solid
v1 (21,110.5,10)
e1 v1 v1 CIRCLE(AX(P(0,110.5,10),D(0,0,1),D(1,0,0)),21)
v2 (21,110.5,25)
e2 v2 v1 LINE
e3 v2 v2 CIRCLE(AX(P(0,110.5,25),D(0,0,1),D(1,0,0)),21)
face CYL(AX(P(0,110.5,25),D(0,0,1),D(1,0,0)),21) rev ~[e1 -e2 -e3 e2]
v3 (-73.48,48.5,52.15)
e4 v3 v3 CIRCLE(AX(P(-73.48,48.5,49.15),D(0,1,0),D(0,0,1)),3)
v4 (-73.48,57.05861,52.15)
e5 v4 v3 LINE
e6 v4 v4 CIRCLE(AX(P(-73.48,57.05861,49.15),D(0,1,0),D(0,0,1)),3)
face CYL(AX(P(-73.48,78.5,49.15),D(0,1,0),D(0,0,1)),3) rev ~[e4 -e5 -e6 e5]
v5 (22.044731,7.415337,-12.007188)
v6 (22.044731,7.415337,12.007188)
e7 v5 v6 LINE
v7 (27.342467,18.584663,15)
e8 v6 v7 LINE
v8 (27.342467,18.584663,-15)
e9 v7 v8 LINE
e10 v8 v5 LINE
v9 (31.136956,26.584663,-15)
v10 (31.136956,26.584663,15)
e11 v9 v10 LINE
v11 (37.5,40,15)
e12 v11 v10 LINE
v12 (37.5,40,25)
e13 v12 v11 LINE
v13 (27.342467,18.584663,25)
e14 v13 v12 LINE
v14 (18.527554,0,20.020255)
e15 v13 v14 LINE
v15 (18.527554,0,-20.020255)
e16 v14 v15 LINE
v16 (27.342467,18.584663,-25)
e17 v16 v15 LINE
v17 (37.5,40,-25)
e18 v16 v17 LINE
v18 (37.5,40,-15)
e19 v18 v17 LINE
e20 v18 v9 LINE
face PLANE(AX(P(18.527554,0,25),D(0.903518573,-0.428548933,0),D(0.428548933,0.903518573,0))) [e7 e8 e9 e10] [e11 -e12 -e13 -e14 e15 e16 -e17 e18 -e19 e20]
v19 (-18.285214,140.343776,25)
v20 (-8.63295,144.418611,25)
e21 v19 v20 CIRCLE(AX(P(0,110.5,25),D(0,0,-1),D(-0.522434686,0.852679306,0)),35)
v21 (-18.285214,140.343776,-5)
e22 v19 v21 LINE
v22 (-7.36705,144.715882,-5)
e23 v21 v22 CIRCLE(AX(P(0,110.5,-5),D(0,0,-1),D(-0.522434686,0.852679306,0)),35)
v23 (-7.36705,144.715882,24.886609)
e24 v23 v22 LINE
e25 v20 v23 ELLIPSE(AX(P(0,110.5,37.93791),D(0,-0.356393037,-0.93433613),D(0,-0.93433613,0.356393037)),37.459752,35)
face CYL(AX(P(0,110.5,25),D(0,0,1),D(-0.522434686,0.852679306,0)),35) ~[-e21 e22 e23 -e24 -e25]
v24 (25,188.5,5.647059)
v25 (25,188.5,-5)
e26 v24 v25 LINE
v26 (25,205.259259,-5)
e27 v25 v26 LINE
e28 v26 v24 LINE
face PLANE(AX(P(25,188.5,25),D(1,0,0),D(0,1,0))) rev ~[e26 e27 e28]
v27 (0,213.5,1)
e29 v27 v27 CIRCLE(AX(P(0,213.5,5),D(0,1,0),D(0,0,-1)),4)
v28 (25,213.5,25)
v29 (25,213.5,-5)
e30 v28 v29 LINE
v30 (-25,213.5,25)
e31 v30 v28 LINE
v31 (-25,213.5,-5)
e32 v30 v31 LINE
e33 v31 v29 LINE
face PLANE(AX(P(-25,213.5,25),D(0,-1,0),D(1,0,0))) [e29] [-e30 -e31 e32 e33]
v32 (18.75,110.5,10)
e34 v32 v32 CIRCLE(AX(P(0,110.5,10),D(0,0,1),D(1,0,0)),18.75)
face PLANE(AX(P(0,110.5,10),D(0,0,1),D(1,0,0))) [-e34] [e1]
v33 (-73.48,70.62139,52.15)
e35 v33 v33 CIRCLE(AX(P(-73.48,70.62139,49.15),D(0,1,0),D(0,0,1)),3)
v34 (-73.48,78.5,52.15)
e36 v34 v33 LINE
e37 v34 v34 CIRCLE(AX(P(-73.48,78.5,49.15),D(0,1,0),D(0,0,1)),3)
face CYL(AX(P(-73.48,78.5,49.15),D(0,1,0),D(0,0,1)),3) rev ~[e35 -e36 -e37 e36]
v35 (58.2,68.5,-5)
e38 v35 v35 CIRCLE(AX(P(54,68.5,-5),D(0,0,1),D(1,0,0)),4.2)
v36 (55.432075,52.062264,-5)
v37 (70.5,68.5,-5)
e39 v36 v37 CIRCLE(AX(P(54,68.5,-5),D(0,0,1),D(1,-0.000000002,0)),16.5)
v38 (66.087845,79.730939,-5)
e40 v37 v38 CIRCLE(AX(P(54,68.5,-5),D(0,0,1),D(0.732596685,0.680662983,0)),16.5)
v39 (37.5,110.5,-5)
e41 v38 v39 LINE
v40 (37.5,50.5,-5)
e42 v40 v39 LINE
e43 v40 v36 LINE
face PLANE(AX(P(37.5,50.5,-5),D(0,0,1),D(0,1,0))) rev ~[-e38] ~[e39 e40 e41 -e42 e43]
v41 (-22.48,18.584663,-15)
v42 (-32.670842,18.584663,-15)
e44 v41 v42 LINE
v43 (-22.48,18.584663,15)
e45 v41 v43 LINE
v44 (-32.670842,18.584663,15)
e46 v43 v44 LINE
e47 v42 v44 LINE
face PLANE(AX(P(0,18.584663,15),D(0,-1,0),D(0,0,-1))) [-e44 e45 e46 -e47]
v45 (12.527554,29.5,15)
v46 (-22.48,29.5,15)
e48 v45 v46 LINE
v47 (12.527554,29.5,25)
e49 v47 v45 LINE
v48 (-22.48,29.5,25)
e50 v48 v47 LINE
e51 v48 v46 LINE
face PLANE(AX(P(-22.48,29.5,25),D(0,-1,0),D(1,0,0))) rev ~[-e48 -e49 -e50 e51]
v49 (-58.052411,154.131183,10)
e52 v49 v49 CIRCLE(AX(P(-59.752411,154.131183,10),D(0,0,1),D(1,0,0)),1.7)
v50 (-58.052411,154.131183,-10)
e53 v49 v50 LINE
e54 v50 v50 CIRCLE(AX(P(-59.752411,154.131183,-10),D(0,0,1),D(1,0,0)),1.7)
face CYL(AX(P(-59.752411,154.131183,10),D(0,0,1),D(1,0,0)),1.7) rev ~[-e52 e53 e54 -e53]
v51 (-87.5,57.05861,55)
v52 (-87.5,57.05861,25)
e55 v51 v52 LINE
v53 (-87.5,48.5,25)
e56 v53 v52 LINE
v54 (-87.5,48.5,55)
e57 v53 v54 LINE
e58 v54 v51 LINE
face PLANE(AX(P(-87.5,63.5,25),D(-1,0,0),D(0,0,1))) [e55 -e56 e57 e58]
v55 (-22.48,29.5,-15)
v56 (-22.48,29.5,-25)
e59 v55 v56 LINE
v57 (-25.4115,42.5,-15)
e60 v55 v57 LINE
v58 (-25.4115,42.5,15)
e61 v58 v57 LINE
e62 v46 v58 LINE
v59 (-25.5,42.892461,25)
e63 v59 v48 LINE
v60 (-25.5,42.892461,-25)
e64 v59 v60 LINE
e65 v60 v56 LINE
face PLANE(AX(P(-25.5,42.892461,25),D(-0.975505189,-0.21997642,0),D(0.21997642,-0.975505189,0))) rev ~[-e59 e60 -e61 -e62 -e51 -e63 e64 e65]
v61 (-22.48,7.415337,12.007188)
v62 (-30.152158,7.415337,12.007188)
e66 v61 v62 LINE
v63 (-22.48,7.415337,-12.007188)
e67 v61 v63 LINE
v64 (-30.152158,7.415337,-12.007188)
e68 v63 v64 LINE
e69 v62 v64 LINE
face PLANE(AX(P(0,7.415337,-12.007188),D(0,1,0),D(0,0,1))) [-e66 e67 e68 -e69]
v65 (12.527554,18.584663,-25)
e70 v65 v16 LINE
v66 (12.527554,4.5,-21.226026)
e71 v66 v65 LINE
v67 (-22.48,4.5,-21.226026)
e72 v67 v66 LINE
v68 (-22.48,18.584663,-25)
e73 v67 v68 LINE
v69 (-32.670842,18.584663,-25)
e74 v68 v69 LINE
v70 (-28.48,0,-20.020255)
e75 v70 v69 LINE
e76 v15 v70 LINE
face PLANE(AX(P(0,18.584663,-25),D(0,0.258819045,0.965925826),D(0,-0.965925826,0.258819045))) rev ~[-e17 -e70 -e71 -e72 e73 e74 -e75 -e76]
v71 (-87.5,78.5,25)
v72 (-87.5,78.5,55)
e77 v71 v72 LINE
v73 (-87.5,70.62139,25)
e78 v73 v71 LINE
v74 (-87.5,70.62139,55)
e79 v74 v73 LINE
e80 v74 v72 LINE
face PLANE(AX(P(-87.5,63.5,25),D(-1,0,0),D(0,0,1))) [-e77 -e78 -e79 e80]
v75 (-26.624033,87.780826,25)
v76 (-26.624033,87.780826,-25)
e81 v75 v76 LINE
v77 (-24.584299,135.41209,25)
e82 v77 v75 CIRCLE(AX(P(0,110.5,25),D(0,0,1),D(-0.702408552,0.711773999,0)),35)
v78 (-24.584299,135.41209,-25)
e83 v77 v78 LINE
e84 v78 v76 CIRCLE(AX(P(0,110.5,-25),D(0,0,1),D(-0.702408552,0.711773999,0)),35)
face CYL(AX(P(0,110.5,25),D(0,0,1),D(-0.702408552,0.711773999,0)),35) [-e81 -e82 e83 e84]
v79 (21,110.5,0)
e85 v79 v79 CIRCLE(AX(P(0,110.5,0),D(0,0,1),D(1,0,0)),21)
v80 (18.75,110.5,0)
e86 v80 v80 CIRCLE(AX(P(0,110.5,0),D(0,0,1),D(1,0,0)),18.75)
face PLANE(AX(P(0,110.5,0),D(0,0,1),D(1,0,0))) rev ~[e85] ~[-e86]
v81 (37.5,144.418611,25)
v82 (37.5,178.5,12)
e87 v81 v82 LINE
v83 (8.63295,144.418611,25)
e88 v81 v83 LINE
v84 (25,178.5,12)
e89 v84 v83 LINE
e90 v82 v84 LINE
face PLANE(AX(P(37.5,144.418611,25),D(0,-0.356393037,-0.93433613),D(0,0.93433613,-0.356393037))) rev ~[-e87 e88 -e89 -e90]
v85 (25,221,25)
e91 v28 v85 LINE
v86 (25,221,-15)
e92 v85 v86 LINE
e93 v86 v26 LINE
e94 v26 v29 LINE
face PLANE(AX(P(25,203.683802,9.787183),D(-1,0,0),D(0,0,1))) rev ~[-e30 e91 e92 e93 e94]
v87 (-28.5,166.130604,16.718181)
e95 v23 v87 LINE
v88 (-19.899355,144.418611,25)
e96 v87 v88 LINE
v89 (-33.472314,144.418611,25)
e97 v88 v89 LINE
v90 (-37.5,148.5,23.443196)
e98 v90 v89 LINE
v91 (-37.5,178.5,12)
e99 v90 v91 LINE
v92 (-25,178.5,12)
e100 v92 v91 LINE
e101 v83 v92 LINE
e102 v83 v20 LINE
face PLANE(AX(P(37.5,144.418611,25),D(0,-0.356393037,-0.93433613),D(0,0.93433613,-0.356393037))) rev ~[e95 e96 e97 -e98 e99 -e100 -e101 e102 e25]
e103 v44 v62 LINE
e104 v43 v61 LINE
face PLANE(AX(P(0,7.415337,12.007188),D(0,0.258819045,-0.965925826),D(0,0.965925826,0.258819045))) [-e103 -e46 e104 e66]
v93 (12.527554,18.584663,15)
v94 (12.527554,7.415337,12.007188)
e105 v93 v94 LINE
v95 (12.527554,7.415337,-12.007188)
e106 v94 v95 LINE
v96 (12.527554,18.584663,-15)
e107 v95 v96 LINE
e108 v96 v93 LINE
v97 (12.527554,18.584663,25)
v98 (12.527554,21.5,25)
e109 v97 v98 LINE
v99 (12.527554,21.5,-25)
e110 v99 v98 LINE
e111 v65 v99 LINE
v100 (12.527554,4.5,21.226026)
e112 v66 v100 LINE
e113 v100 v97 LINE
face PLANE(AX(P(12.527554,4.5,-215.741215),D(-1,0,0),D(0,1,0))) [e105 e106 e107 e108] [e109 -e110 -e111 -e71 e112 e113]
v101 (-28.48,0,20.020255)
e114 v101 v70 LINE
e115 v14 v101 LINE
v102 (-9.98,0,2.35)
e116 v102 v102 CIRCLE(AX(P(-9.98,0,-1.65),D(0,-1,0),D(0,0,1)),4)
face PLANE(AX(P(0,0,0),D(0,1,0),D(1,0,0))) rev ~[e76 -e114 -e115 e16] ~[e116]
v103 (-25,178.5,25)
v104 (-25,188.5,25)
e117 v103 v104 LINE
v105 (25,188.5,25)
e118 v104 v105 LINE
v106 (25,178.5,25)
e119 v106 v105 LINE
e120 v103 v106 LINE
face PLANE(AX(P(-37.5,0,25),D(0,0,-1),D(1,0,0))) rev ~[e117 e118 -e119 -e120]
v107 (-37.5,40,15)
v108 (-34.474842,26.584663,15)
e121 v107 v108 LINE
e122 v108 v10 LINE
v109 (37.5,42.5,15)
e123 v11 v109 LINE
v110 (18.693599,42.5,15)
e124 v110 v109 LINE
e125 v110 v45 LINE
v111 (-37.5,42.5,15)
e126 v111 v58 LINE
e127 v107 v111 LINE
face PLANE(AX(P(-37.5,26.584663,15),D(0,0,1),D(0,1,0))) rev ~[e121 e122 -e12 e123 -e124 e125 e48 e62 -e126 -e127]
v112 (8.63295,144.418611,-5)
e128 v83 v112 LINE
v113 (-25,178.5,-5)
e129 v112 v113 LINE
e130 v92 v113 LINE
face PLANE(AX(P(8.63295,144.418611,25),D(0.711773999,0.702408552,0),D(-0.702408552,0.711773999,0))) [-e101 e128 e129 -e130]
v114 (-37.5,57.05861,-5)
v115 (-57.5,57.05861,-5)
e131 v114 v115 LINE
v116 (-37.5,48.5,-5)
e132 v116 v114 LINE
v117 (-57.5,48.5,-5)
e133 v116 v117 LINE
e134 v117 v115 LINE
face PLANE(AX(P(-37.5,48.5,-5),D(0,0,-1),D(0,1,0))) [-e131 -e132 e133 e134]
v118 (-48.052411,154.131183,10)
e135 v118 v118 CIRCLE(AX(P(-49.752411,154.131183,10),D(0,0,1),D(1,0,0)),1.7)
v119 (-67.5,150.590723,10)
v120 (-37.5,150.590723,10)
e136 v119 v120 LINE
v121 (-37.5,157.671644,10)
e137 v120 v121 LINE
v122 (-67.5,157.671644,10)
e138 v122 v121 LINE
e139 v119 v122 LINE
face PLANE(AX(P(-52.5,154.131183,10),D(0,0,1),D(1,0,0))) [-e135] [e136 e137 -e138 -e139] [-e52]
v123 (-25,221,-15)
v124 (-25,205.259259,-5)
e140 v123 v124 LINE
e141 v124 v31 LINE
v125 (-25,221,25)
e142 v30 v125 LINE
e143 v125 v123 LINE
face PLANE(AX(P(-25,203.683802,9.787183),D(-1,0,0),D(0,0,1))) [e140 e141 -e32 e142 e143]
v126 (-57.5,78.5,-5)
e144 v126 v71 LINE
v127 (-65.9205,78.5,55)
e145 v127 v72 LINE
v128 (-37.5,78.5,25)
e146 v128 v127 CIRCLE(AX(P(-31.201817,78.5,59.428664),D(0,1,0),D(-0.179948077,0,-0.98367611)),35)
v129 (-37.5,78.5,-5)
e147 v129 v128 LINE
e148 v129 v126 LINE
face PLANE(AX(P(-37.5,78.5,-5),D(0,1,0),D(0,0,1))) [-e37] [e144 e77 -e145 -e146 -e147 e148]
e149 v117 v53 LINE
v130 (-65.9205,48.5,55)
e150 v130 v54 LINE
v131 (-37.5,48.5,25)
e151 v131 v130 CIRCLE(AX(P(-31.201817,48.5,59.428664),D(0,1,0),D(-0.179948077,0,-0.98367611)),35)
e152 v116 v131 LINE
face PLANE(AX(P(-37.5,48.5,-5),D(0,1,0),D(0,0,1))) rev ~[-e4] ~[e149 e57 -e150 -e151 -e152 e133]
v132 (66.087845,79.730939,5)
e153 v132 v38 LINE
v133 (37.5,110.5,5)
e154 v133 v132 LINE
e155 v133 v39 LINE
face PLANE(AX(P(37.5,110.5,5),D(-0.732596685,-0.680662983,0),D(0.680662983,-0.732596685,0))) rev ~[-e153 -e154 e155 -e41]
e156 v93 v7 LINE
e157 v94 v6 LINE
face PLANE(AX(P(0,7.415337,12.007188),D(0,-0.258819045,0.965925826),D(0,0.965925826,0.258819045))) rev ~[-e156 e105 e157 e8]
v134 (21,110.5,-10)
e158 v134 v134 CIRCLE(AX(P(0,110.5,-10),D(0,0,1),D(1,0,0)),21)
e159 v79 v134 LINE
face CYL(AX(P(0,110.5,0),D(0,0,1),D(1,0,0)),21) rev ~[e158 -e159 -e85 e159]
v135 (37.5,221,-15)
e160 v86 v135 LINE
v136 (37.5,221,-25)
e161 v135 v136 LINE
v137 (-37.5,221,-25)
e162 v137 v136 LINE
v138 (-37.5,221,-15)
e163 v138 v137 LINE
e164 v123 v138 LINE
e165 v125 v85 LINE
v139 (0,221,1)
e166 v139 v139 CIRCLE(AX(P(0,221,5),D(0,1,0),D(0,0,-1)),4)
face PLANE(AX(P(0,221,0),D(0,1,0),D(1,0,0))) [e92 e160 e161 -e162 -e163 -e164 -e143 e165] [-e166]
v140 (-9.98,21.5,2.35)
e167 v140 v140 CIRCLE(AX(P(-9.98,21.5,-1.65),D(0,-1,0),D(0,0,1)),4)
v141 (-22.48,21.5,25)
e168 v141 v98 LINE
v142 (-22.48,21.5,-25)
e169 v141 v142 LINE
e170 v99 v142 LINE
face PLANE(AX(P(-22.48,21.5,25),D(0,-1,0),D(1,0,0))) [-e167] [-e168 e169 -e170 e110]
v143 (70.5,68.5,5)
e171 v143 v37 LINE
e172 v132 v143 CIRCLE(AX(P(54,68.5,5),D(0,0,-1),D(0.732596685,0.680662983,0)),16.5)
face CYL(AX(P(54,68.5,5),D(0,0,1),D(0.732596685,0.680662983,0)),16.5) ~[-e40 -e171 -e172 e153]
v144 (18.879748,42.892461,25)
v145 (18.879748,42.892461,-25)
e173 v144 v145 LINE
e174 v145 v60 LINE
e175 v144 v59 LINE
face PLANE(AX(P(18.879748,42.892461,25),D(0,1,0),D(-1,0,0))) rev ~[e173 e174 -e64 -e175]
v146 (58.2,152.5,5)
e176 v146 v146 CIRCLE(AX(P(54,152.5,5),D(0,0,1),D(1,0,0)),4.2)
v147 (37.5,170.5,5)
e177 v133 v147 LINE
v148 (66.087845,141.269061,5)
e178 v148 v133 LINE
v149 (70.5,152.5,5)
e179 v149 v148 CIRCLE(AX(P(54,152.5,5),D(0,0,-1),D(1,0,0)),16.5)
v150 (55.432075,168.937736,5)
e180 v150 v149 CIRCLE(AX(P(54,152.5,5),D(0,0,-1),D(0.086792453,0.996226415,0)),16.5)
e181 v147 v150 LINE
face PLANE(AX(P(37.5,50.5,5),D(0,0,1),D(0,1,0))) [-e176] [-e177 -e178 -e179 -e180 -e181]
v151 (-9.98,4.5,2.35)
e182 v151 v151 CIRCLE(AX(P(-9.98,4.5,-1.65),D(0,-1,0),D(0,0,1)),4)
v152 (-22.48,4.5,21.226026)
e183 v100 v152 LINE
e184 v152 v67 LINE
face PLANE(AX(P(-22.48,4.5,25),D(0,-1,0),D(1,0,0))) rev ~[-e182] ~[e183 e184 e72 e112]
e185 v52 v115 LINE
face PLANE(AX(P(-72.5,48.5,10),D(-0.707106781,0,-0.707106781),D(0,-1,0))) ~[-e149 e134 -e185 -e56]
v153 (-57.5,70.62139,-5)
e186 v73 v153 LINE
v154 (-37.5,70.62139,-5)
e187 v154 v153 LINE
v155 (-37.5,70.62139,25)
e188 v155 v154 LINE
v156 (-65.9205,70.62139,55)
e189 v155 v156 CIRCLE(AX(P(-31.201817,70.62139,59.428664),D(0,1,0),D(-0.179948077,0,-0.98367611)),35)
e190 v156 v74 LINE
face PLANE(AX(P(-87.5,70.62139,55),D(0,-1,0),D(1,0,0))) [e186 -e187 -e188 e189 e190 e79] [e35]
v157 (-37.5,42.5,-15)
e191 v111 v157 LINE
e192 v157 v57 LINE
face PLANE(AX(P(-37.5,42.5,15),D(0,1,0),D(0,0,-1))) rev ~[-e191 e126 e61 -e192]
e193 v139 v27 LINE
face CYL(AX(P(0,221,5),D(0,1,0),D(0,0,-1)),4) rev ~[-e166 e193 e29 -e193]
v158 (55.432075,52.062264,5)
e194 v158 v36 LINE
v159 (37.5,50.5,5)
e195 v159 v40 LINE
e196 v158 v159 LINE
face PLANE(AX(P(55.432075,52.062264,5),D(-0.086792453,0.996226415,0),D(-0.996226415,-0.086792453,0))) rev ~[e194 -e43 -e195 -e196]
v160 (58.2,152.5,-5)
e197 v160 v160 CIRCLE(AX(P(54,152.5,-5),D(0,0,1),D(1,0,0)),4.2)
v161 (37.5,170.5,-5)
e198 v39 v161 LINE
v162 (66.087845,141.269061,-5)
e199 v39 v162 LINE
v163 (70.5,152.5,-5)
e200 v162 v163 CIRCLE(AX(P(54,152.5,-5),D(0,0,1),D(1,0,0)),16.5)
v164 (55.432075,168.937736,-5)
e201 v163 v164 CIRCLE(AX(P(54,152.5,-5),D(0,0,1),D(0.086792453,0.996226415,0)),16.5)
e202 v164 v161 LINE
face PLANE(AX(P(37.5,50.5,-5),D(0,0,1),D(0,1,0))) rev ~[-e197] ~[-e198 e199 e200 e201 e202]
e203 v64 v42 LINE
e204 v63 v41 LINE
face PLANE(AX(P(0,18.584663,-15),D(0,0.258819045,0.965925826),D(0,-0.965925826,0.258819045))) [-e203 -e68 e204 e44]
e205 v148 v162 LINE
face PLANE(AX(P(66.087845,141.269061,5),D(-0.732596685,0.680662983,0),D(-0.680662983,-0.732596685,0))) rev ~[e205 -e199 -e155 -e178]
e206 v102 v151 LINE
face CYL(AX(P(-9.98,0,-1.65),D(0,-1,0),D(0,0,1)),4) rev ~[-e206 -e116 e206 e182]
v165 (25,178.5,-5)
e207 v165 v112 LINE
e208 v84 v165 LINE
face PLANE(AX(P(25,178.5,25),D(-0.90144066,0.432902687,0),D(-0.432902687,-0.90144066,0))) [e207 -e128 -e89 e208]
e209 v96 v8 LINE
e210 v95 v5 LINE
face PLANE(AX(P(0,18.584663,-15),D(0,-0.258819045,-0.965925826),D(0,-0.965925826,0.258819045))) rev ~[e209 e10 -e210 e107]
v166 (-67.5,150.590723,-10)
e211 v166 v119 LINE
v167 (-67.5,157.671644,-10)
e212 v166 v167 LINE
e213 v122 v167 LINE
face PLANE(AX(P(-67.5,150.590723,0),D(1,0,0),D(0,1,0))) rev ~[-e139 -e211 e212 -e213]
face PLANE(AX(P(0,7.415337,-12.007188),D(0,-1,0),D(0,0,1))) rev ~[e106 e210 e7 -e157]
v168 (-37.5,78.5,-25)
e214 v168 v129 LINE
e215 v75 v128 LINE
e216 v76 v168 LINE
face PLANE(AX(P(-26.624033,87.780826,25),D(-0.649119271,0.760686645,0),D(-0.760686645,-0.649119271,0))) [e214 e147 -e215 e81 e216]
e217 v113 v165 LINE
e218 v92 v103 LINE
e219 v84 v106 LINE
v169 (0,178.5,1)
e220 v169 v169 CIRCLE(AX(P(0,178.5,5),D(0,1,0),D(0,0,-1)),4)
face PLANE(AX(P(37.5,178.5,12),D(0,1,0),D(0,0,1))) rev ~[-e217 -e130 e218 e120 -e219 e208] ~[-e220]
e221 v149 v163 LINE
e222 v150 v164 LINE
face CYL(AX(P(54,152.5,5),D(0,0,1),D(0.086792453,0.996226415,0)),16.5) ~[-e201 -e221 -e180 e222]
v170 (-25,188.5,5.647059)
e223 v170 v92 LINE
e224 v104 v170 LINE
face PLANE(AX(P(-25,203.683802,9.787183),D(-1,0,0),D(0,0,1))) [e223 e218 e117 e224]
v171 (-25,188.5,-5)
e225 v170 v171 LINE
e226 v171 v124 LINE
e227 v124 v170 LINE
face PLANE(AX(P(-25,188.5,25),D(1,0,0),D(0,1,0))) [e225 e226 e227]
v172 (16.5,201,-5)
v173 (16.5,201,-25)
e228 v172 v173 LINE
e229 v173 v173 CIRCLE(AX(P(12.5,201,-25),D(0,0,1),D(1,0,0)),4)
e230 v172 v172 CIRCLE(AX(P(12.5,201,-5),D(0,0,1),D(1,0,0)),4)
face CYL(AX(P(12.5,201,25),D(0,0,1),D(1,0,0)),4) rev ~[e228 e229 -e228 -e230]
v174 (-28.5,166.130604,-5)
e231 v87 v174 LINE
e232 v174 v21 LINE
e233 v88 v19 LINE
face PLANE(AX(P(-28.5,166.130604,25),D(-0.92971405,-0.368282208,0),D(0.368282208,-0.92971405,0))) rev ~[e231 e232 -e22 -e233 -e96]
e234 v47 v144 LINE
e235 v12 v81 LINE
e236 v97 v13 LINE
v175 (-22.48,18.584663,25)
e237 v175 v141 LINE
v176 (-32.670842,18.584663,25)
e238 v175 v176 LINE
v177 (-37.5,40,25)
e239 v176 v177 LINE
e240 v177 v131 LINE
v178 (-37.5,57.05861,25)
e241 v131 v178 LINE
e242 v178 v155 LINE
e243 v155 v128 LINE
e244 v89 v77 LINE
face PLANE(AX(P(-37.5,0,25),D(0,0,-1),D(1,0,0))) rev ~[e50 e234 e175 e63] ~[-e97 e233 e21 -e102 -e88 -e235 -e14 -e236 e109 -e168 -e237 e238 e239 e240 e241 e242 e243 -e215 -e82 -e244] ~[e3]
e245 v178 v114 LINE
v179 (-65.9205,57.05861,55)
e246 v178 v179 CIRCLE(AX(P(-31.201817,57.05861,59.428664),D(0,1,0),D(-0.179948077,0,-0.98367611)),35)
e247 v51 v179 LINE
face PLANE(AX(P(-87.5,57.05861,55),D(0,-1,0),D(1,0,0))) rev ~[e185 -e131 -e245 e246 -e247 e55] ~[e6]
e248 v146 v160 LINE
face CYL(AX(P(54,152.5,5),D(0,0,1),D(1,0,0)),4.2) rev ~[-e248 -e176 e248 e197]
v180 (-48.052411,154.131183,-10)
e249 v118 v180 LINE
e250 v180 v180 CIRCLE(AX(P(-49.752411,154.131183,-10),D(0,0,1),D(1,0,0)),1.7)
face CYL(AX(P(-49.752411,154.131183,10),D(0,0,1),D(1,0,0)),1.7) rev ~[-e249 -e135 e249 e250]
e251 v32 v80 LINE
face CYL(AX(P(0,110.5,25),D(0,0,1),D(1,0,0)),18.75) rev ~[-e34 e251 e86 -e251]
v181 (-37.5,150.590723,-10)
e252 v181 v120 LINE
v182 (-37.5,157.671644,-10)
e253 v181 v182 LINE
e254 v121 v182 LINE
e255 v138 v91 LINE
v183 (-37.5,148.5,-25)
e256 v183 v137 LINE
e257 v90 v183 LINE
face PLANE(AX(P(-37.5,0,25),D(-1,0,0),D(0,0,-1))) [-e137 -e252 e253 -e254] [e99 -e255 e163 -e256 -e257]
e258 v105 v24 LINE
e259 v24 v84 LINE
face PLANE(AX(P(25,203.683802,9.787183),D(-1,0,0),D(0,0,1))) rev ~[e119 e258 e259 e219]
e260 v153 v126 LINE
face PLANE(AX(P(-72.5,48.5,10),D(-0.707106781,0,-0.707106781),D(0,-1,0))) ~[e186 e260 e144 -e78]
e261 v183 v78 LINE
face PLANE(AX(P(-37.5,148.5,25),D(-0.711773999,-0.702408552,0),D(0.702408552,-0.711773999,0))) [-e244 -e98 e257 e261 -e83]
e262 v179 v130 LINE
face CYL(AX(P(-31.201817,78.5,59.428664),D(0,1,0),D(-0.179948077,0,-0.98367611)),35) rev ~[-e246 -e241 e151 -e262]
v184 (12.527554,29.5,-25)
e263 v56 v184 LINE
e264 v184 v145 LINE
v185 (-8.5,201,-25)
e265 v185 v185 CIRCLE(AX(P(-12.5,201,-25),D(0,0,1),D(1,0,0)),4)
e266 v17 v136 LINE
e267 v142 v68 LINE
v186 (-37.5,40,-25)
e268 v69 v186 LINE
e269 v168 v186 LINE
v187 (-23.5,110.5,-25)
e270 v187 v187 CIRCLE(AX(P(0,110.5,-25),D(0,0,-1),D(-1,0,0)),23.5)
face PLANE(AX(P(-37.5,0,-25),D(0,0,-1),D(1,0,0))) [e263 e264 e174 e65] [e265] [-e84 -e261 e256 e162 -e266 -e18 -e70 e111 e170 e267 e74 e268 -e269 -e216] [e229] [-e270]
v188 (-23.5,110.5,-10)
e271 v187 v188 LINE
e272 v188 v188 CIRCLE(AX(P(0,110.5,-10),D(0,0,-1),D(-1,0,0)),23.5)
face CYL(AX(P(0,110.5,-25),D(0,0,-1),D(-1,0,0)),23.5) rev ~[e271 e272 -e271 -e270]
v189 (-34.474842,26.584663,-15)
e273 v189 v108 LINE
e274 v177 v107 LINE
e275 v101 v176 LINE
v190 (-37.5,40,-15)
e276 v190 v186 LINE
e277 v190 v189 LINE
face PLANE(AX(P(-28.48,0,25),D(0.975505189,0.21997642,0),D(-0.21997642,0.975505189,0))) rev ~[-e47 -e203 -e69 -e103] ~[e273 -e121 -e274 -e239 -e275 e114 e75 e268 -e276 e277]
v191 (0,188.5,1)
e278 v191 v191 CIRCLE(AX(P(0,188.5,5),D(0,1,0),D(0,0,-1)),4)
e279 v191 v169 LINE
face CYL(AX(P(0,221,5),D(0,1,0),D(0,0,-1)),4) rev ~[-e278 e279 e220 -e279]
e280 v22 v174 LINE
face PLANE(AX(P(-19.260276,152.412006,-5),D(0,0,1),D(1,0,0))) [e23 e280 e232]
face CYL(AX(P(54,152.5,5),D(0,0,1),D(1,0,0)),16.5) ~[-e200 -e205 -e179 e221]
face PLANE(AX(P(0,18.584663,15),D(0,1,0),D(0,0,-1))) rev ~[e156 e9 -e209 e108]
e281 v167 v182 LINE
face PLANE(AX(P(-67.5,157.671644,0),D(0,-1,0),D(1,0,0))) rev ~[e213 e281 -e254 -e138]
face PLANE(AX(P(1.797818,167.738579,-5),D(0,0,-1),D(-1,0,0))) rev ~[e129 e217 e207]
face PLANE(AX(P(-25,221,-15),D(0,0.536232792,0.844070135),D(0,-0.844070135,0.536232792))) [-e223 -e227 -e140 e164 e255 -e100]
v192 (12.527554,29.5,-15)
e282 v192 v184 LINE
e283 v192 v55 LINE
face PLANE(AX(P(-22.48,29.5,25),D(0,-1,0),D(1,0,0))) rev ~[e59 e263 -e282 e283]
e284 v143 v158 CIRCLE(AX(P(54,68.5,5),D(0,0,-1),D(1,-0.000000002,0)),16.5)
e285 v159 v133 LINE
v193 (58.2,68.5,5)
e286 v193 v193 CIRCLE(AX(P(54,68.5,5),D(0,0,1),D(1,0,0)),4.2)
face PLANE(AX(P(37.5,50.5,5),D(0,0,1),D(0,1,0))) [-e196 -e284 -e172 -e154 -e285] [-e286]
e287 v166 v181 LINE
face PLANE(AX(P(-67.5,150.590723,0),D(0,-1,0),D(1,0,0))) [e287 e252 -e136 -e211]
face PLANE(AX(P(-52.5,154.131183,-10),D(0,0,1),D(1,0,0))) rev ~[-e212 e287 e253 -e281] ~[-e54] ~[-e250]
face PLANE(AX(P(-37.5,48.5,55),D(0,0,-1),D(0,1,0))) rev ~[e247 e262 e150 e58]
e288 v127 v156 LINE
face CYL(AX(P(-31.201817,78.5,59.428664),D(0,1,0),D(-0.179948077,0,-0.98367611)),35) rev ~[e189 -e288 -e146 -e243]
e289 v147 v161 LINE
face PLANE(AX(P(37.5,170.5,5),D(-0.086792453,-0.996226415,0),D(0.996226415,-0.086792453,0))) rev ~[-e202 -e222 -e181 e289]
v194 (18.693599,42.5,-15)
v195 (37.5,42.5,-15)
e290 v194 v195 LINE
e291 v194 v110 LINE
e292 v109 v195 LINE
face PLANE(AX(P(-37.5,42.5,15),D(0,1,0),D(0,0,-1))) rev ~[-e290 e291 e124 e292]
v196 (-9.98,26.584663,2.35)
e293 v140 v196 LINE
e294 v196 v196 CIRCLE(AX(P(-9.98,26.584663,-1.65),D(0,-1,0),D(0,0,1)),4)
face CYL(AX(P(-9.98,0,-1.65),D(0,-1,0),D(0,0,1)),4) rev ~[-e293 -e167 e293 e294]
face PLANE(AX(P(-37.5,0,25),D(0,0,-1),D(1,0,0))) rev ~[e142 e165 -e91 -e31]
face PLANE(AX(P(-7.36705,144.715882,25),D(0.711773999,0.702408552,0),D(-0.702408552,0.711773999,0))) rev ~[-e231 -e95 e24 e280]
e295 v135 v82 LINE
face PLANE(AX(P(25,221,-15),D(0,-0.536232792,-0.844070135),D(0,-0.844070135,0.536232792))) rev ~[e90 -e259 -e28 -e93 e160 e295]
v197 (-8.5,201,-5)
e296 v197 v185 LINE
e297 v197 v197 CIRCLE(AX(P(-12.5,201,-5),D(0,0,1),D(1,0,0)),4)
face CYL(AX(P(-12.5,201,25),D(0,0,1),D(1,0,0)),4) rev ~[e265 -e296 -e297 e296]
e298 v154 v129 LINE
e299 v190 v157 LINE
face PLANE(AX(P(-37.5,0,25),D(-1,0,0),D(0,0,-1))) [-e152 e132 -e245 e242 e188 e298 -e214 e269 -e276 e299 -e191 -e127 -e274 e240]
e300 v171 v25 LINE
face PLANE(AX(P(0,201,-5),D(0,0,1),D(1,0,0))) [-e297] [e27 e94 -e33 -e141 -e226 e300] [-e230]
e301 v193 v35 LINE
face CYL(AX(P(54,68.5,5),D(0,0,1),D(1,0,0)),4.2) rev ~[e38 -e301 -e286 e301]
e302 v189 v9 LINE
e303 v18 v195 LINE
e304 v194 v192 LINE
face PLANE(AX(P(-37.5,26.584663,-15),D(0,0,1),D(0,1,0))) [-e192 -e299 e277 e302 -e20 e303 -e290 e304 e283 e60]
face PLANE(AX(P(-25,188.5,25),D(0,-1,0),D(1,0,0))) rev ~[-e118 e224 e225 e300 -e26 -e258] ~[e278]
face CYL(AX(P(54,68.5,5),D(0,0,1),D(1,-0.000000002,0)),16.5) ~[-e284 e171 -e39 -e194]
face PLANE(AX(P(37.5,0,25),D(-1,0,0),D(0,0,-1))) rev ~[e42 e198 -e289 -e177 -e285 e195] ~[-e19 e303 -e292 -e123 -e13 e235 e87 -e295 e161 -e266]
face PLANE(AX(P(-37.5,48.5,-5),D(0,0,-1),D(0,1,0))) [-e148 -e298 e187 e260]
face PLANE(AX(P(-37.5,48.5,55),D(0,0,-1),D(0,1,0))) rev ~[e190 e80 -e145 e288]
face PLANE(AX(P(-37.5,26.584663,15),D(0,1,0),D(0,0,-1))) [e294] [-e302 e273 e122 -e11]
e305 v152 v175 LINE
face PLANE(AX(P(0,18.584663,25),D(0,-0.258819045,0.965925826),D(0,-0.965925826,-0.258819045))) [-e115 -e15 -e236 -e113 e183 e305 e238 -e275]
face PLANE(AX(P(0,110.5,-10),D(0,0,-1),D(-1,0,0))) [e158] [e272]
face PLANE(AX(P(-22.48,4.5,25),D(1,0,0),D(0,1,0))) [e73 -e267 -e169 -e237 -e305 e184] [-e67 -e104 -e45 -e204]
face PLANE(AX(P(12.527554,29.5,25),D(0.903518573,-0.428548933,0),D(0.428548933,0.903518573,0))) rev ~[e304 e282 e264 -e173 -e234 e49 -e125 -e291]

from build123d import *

# Parameters (mm, degrees)
SKETCH1_W                         = 75
SKETCH1_H                         = 50
BE_MAIN_UPRIGHT_BODY_DEPTH        = 221
SKETCH4_R                         = 18.75
CE_THROUGH_HOLE_DEPTH             = 230.667694724
SKETCH2_R                         = 21
CE_INNER_BEARING_DEPTH            = 15
SKETCH3_R                         = 23.5
CE_OUTER_BEARING_DEPTH            = 15
SKETCH7_W                         = 10
SKETCH7_H                         = 120
BE_CALIPER_MOUNT_DEPTH            = 33
SKETCH21_W                        = 30
SKETCH21_H                        = 7.080920813
BE_TEMP_SENSOR_MOUNT_V2_DEPTH     = 10
SKETCH9_W                         = 60
SKETCH9_H                         = 30
BE_TIE_ROD_MOUNT_DEPTH            = 50
SKETCH10_R                        = 4.2
CE_CALIPER_HOLES_DEPTH            = 243.893495178
SKETCH12_R                        = 4
CE_TOP_CLEVIS_HOLES_DEPTH         = 243.893495178
SKETCH33_W                        = 50
SKETCH33_H                        = 25
CE_SIMPLE_TOP_CLEVIS_SPACE_DEPTH  = 30
SKETCH34_R                        = 4
CUT_EXTRUDE12_DEPTH               = 42.5
SKETCH14_W                        = 25
SKETCH14_H                        = 12
CE_BOTTOM_CLEVIS_SPACE_DEPTH      = 243.893495178
SKETCH15_W                        = 25
SKETCH15_H                        = 5
CE_EXPAND_BOTTOM_CLEVIS_DEPTH     = 243.893495178
CE_WIDEN_BOTTOM_CLEVIS_DEPTH      = 240.74121548
CE_WIDEN_BOTTOM_CLEVIS_DEPTH_BACK = 240.74121548
SKETCH16_W                        = 10.007554032
SKETCH16_H                        = 17
CHAMFER1_SIZE                     = 30
SKETCH18_W                        = 14.04398123
SKETCH18_H                        = 13.562779604
CUT_EXTRUDE1_DEPTH                = 20
SKETCH19_R                        = 3
CUT_EXTRUDE2_DEPTH                = 177.032667423
SKETCH22_R                        = 1.7
CUT_EXTRUDE4_DEPTH                = 20
SKETCH31_R                        = 4
CUT_EXTRUDE9_DEPTH                = 31.5
SKETCH35_R                        = 21
CUT_EXTRUDE13_DEPTH               = 10
CUT_EXTRUDE14_REACH               = 244.893
CUT_EXTRUDE15_REACH               = 244.893
SKETCH38_W                        = 50
SKETCH38_H                        = 13.562779604
CUT_EXTRUDE16_DEPTH               = 251.793241536
CUT_EXTRUDE17_DEPTH               = 177.032667423
CUT_EXTRUDE18_DEPTH               = 30
CUT_EXTRUDE19_DEPTH               = 30
CUT_EXTRUDE20_REACH               = 244.893
CUT_EXTRUDE21_REACH               = 245.972
CUT_EXTRUDE21_DIRECTION_2_REACH   = 245.972
CUT_EXTRUDE22_REACH               = 245.972
CUT_EXTRUDE22_DIRECTION_2_REACH   = 245.972
CUT_EXTRUDE28_REACH               = 261.79
CUT_EXTRUDE31_START               = -25
CUT_EXTRUDE31_DEPTH               = 12.5
CUT_EXTRUDE32_START               = 25
CUT_EXTRUDE32_DEPTH               = 12.5
CUT_EXTRUDE33_START               = -37.5
SKETCH53_W                        = 30
SKETCH53_H                        = 15.915336889
CUT_EXTRUDE33_DEPTH               = 75
CUT_EXTRUDE34_REACH               = 244.893


with BuildPart() as part:
    # Sketch1 → BE - main upright body (new body)
    with BuildSketch(Plane(origin=(0, 0, 0), x_dir=(1, 0, 0), z_dir=(0, 1, 0))):
        Rectangle(SKETCH1_W, SKETCH1_H)
    extrude(amount=BE_MAIN_UPRIGHT_BODY_DEPTH)

    # Sketch4 → CE - Through hole (cut, through all)
    with BuildSketch(Plane.XY.offset(25)):
        with Locations((0, 110.5)):
            Circle(SKETCH4_R)
    extrude(amount=-CE_THROUGH_HOLE_DEPTH, mode=Mode.SUBTRACT)

    # Sketch2 → CE - Inner bearing (cut)
    with BuildSketch(Plane.XY.offset(25)):
        with Locations((0, 110.5)):
            Circle(SKETCH2_R)
    extrude(amount=-CE_INNER_BEARING_DEPTH, mode=Mode.SUBTRACT)

    # Sketch3 → CE - Outer bearing (cut)
    with BuildSketch(Plane(origin=(0, 0, -25), x_dir=(-1, 0, 0), z_dir=(0, 0, -1))):
        with Locations((0, 110.5)):
            Circle(SKETCH3_R)
    extrude(amount=-CE_OUTER_BEARING_DEPTH, mode=Mode.SUBTRACT)

    # Sketch7 → BE - caliper mount (add)
    with BuildSketch(Plane(origin=(37.5, 0, 0), x_dir=(0, 0, -1), z_dir=(1, 0, 0))):
        with Locations((0, 110.5)):
            Rectangle(SKETCH7_W, SKETCH7_H)
    extrude(amount=BE_CALIPER_MOUNT_DEPTH)

    # Sketch21 → BE - temp sensor mount v2 (add, symmetric)
    with BuildSketch(Plane.XY):
        with Locations((-52.5, 154.131183389)):
            Rectangle(SKETCH21_W, SKETCH21_H)
    extrude(amount=BE_TEMP_SENSOR_MOUNT_V2_DEPTH, both=True)

    # Sketch9 → BE - tie rod mount (add)
    with BuildSketch(Plane.ZY.offset(37.5)):
        with Locations((25, 63.5)):
            Rectangle(SKETCH9_W, SKETCH9_H)
    extrude(amount=BE_TIE_ROD_MOUNT_DEPTH)

    # Sketch10 → CE - caliper holes (cut, through all)
    with BuildSketch(Plane.XY.offset(5)):
        with Locations((54, 152.5)):
            Circle(SKETCH10_R)
        with Locations((54, 68.5)):
            Circle(SKETCH10_R)
    extrude(amount=-CE_CALIPER_HOLES_DEPTH, mode=Mode.SUBTRACT)

    # Sketch12 → CE - top clevis holes (cut, through all)
    with BuildSketch(Plane.XY.offset(25)):
        with Locations((-12.5, 201)):
            Circle(SKETCH12_R)
        with Locations((12.5, 201)):
            Circle(SKETCH12_R)
    extrude(amount=-CE_TOP_CLEVIS_HOLES_DEPTH, mode=Mode.SUBTRACT)

    # Sketch33 → CE - simple top clevis space (cut)
    with BuildSketch(Plane.XY.offset(25)):
        with Locations((0, 201)):
            Rectangle(SKETCH33_W, SKETCH33_H)
    extrude(amount=-CE_SIMPLE_TOP_CLEVIS_SPACE_DEPTH, mode=Mode.SUBTRACT)

    # Sketch34 → Cut-Extrude12 (cut)
    with BuildSketch(Plane(origin=(0, 221, 0), x_dir=(1, 0, 0), z_dir=(0, 1, 0))):
        with Locations(Location((0, -5, 0), (0, 0, 90))):
            Circle(SKETCH34_R)
    extrude(amount=-CUT_EXTRUDE12_DEPTH, mode=Mode.SUBTRACT)

    # Sketch14 → CE - bottom clevis space (cut, through all)
    with BuildSketch(Plane.XY.offset(25)):
        with Locations((-9.98, 10.5)):
            Rectangle(SKETCH14_W, SKETCH14_H)
    extrude(amount=-CE_BOTTOM_CLEVIS_SPACE_DEPTH, mode=Mode.SUBTRACT)

    # Sketch15 → CE - expand bottom clevis (cut, through all)
    with BuildSketch(Plane.XY.offset(25)):
        with Locations((-9.98, 19)):
            Rectangle(SKETCH15_W, SKETCH15_H)
    extrude(amount=-CE_EXPAND_BOTTOM_CLEVIS_DEPTH, mode=Mode.SUBTRACT)

    # Sketch16 → CE - widen bottom clevis (cut, two sides: drawn at the far end of the back side and taken through both)
    with BuildSketch(Plane(origin=(2.52, 4.5, 25), x_dir=(1, 0, 0), z_dir=(0, 0, 1)).offset(-CE_WIDEN_BOTTOM_CLEVIS_DEPTH_BACK)):
        with Locations((5.003777016, 8.5)):
            Rectangle(SKETCH16_W, SKETCH16_H)
    extrude(amount=CE_WIDEN_BOTTOM_CLEVIS_DEPTH + CE_WIDEN_BOTTOM_CLEVIS_DEPTH_BACK, mode=Mode.SUBTRACT)

    # Chamfer1
    chamfer1_edges = [part.edges().sort_by_distance(p)[0] for p in [
        (-87.5, 63.5, -5),
    ]]
    chamfer(chamfer1_edges, length=CHAMFER1_SIZE)

    # Sketch18 → Cut-Extrude1 (cut)
    with BuildSketch(Plane.XY.offset(55)):
        with Locations((-73.48, 63.84)):
            Rectangle(SKETCH18_W, SKETCH18_H)
    extrude(amount=-CUT_EXTRUDE1_DEPTH, mode=Mode.SUBTRACT)

    # Sketch19 → Cut-Extrude2 (cut, through all)
    with BuildSketch(Plane(origin=(0, 78.5, 0), x_dir=(1, 0, 0), z_dir=(0, 1, 0))):
        with Locations(Location((-73.48, -49.15, 0), (0, 0, 270))):
            Circle(SKETCH19_R)
    extrude(amount=-CUT_EXTRUDE2_DEPTH, mode=Mode.SUBTRACT)

    # Sketch22 → Cut-Extrude4 (cut)
    with BuildSketch(Plane.XY.offset(10)):
        with Locations((-59.752411208, 154.131183389)):
            Circle(SKETCH22_R)
        with Locations((-49.752411208, 154.131183389)):
            Circle(SKETCH22_R)
    extrude(amount=-CUT_EXTRUDE4_DEPTH, mode=Mode.SUBTRACT)

    # Sketch31 → Cut-Extrude9 (cut)
    with BuildSketch(Plane.XZ):
        with Locations(Location((-9.98, -1.65, 0), (0, 0, 90))):
            Circle(SKETCH31_R)
    extrude(amount=-CUT_EXTRUDE9_DEPTH, mode=Mode.SUBTRACT)

    # Sketch35 → Cut-Extrude13 (cut)
    with BuildSketch(Plane.XY):
        with Locations((0, 110.5)):
            Circle(SKETCH35_R)
    extrude(amount=-CUT_EXTRUDE13_DEPTH, mode=Mode.SUBTRACT)

    # Sketch36 → Cut-Extrude14 (cut, up to next)
    with BuildSketch(Plane.XY.offset(25), mode=Mode.PRIVATE) as cut_extrude14_sk1:
        with BuildLine():
            Line((-37.5, 78.5), (-37.5, 148.5))
            Line((-37.5, 148.5), (-24.584299319, 135.412089977))
            ThreePointArc((-24.584299319, 135.412089977), (-34.967951791, 111.997447011), (-26.624032587, 87.780825526))
            Line((-26.624032587, 87.780825526), (-37.5, 78.5))
        make_face()
    cut_extrude14_tool1 = extrude(cut_extrude14_sk1.sketch, amount=-CUT_EXTRUDE14_REACH, mode=Mode.PRIVATE) & part.part
    add(cut_extrude14_tool1.solids().sort_by_distance((-35.679116, 112.027901, 25))[0], mode=Mode.SUBTRACT)

    # Sketch37 → Cut-Extrude15 (cut, up to next)
    with BuildSketch(Plane.XY.offset(5), mode=Mode.PRIVATE) as cut_extrude15_sk1:
        with BuildLine():
            Line((70.5, 68.499999966), (70.5, 152.5))
            ThreePointArc((70.5, 152.5), (69.357399642, 146.466735855), (66.087845304, 141.269060773))
            Line((66.087845304, 141.269060773), (37.5, 110.5))
            Line((37.5, 110.5), (66.087845304, 79.730939227))
            ThreePointArc((66.087845304, 79.730939227), (69.357399648, 74.533264129), (70.5, 68.499999966))
        make_face()
    cut_extrude15_tool1 = extrude(cut_extrude15_sk1.sketch, amount=-CUT_EXTRUDE15_REACH, mode=Mode.PRIVATE) & part.part
    # Sketch37 → Cut-Extrude15 (cut, up to next)
    with BuildSketch(Plane.XY.offset(5), mode=Mode.PRIVATE) as cut_extrude15_sk2:
        with BuildLine():
            Line((37.5, 170.5), (55.432075472, 168.937735849))
            ThreePointArc((55.432075472, 168.937735849), (66.163043313, 163.649456371), (70.5, 152.5))
            Line((70.5, 152.5), (70.5, 170.5))
            Line((70.5, 170.5), (37.5, 170.5))
        make_face()
    cut_extrude15_tool2 = extrude(cut_extrude15_sk2.sketch, amount=-CUT_EXTRUDE15_REACH, mode=Mode.PRIVATE) & part.part
    # Sketch37 → Cut-Extrude15 (cut, up to next)
    with BuildSketch(Plane.XY.offset(5), mode=Mode.PRIVATE) as cut_extrude15_sk3:
        with BuildLine():
            Line((70.5, 50.5), (70.5, 68.499999966))
            ThreePointArc((70.5, 68.499999966), (66.163043302, 57.350543617), (55.432075472, 52.062264151))
            Line((55.432075472, 52.062264151), (37.5, 50.5))
            Line((37.5, 50.5), (70.5, 50.5))
        make_face()
    cut_extrude15_tool3 = extrude(cut_extrude15_sk3.sketch, amount=-CUT_EXTRUDE15_REACH, mode=Mode.PRIVATE) & part.part
    add(cut_extrude15_tool1.solids().sort_by_distance((59.586136, 110.5, 5))[0], mode=Mode.SUBTRACT)
    add(cut_extrude15_tool2.solids().sort_by_distance((63.343078, 167.056287, 5))[0], mode=Mode.SUBTRACT)
    add(cut_extrude15_tool3.solids().sort_by_distance((63.343078, 53.943713, 5))[0], mode=Mode.SUBTRACT)

    # Sketch38 → Cut-Extrude16 (cut, through all)
    with BuildSketch(Plane.XY.offset(55)):
        with Locations((-62.5, 63.84)):
            Rectangle(SKETCH38_W, SKETCH38_H)
    extrude(amount=-CUT_EXTRUDE16_DEPTH, mode=Mode.SUBTRACT)

    # Sketch40 → Cut-Extrude17 (cut, through all)
    with BuildSketch(Plane(origin=(0, 78.5, 0), x_dir=(1, 0, 0), z_dir=(0, 1, 0))):
        with BuildLine():
            Line((-37.5, -55), (-37.5, -25))
            ThreePointArc((-37.5, -25), (-56.610394877, -35.35784779), (-65.920500126, -55))
            Line((-65.920500126, -55), (-37.5, -55))
        make_face()
    extrude(amount=-CUT_EXTRUDE17_DEPTH, mode=Mode.SUBTRACT)

    # Sketch41 → Cut-Extrude18 (cut)
    with BuildSketch(Plane.XY.offset(25)):
        Polygon((-25, 178.5), (25, 178.5), (8.632949519, 144.418611154), align=None)
    extrude(amount=-CUT_EXTRUDE18_DEPTH, mode=Mode.SUBTRACT)

    # Sketch42 → Cut-Extrude19 (cut)
    with BuildSketch(Plane.XY.offset(25)):
        with BuildLine():
            Line((-28.5, 166.130603978), (-18.285214005, 140.343775713))
            ThreePointArc((-18.285214005, 140.343775713), (-13.011091277, 142.991714387), (-7.367050481, 144.715881798))
            Line((-7.367050481, 144.715881798), (-28.5, 166.130603978))
        make_face()
    extrude(amount=-CUT_EXTRUDE19_DEPTH, mode=Mode.SUBTRACT)

    # Sketch43 → Cut-Extrude20 (cut, up to next)
    with BuildSketch(Plane.XY.offset(25), mode=Mode.PRIVATE) as cut_extrude20_sk1:
        Polygon((18.527554032, 0), (37.5, 40), (37.5, 0), align=None)
    cut_extrude20_tool1 = extrude(cut_extrude20_sk1.sketch, amount=-CUT_EXTRUDE20_REACH, mode=Mode.PRIVATE) & part.part
    # Sketch43 → Cut-Extrude20 (cut, up to next)
    with BuildSketch(Plane.XY.offset(25), mode=Mode.PRIVATE) as cut_extrude20_sk2:
        Polygon((-28.48, 0), (-37.5, 40), (-37.5, 0), align=None)
    cut_extrude20_tool2 = extrude(cut_extrude20_sk2.sketch, amount=-CUT_EXTRUDE20_REACH, mode=Mode.PRIVATE) & part.part
    add(cut_extrude20_tool1.solids().sort_by_distance((31.175851, 13.333333, 25))[0], mode=Mode.SUBTRACT)
    add(cut_extrude20_tool2.solids().sort_by_distance((-34.493333, 13.333333, 25))[0], mode=Mode.SUBTRACT)

    # Sketch44 → Cut-Extrude21 (cut, up to next)
    with BuildSketch(Plane(origin=(0, 0, 0), x_dir=(0, 0, -1), z_dir=(1, 0, 0)), mode=Mode.PRIVATE) as cut_extrude21_sk1:
        Polygon((-15, 18.584663111), (15, 18.584663111), (12.007188059, 7.415336889), (-12.007188059, 7.415336889), align=None)
    cut_extrude21_tool1 = extrude(cut_extrude21_sk1.sketch, amount=-CUT_EXTRUDE21_REACH, mode=Mode.PRIVATE) & part.part
    add(cut_extrude21_tool1.solids().sort_by_distance((0, 13.206289, 0))[0], mode=Mode.SUBTRACT)

    # Sketch44 → Cut-Extrude21 direction 2 (cut, up to next)
    with BuildSketch(Plane(origin=(0, 0, 0), x_dir=(0, 0, -1), z_dir=(1, 0, 0)), mode=Mode.PRIVATE) as cut_extrude21_direction_2_sk1:
        Polygon((-15, 18.584663111), (15, 18.584663111), (12.007188059, 7.415336889), (-12.007188059, 7.415336889), align=None)
    cut_extrude21_direction_2_tool1 = extrude(cut_extrude21_direction_2_sk1.sketch, amount=CUT_EXTRUDE21_DIRECTION_2_REACH, mode=Mode.PRIVATE) & part.part
    add(cut_extrude21_direction_2_tool1.solids().sort_by_distance((0, 13.206289, 0))[0], mode=Mode.SUBTRACT)

    # Sketch45 → Cut-Extrude22 (cut, up to next)
    with BuildSketch(Plane(origin=(0, 0, 0), x_dir=(0, 0, -1), z_dir=(1, 0, 0)), mode=Mode.PRIVATE) as cut_extrude22_sk1:
        Polygon((-25, 18.584663111), (-20.020254528, 0), (-25, 0), align=None)
    cut_extrude22_tool1 = extrude(cut_extrude22_sk1.sketch, amount=-CUT_EXTRUDE22_REACH, mode=Mode.PRIVATE) & part.part
    # Sketch45 → Cut-Extrude22 (cut, up to next)
    with BuildSketch(Plane(origin=(0, 0, 0), x_dir=(0, 0, -1), z_dir=(1, 0, 0)), mode=Mode.PRIVATE) as cut_extrude22_sk2:
        Polygon((25, 0), (25, 18.584663111), (20.020254528, 0), align=None)
    cut_extrude22_tool2 = extrude(cut_extrude22_sk2.sketch, amount=-CUT_EXTRUDE22_REACH, mode=Mode.PRIVATE) & part.part
    add(cut_extrude22_tool1.solids().sort_by_distance((0, 6.194888, 23.340085))[0], mode=Mode.SUBTRACT)
    add(cut_extrude22_tool2.solids().sort_by_distance((0, 6.194888, -23.340085))[0], mode=Mode.SUBTRACT)

    # Sketch45 → Cut-Extrude22 direction 2 (cut, up to next)
    with BuildSketch(Plane(origin=(0, 0, 0), x_dir=(0, 0, -1), z_dir=(1, 0, 0)), mode=Mode.PRIVATE) as cut_extrude22_direction_2_sk1:
        Polygon((-25, 18.584663111), (-20.020254528, 0), (-25, 0), align=None)
    cut_extrude22_direction_2_tool1 = extrude(cut_extrude22_direction_2_sk1.sketch, amount=CUT_EXTRUDE22_DIRECTION_2_REACH, mode=Mode.PRIVATE) & part.part
    # Sketch45 → Cut-Extrude22 direction 2 (cut, up to next)
    with BuildSketch(Plane(origin=(0, 0, 0), x_dir=(0, 0, -1), z_dir=(1, 0, 0)), mode=Mode.PRIVATE) as cut_extrude22_direction_2_sk2:
        Polygon((25, 0), (25, 18.584663111), (20.020254528, 0), align=None)
    cut_extrude22_direction_2_tool2 = extrude(cut_extrude22_direction_2_sk2.sketch, amount=CUT_EXTRUDE22_DIRECTION_2_REACH, mode=Mode.PRIVATE) & part.part
    add(cut_extrude22_direction_2_tool1.solids().sort_by_distance((0, 6.194888, 23.340085))[0], mode=Mode.SUBTRACT)
    add(cut_extrude22_direction_2_tool2.solids().sort_by_distance((0, 6.194888, -23.340085))[0], mode=Mode.SUBTRACT)

    # Cut-Extrude28: up to this face of the body (flat: up to its plane)
    cut_extrude28_end = Plane(part.part.faces().sort_by_distance((-37.5, 185.994821508, 0))[0])
    # Sketch48 → Cut-Extrude28 (cut, up to the picked face)
    with BuildSketch(Plane(origin=(37.5, 0, 0), x_dir=(0, 0, -1), z_dir=(1, 0, 0)), mode=Mode.PRIVATE) as cut_extrude28_sk1:
        Polygon((-12, 178.5), (-25, 178.5), (-25, 144.418611154), align=None)
    cut_extrude28_tool1 = split(extrude(cut_extrude28_sk1.sketch, amount=-CUT_EXTRUDE28_REACH, mode=Mode.PRIVATE), bisect_by=cut_extrude28_end, keep=Keep.BOTH, mode=Mode.PRIVATE)
    add(cut_extrude28_tool1.solids().sort_by(Axis((37.5, 167.139537, 20.666667), (-1, 0, 0)))[0], mode=Mode.SUBTRACT)

    # Sketch51 → Cut-Extrude31 (cut)
    with BuildSketch(Plane(origin=(0, 0, 0), x_dir=(0, 0, -1), z_dir=(1, 0, 0)).offset(CUT_EXTRUDE31_START)):
        Polygon((-12, 178.5), (-25, 178.5), (-25, 221), (15, 221), align=None)
    extrude(amount=-CUT_EXTRUDE31_DEPTH, mode=Mode.SUBTRACT)

    # Sketch51<2> → Cut-Extrude32 (cut)
    with BuildSketch(Plane(origin=(0, 0, 0), x_dir=(0, 0, -1), z_dir=(1, 0, 0)).offset(CUT_EXTRUDE32_START)):
        Polygon((-12, 178.5), (-25, 178.5), (-25, 221), (15, 221), align=None)
    extrude(amount=CUT_EXTRUDE32_DEPTH, mode=Mode.SUBTRACT)

    # Sketch53 → Cut-Extrude33 (cut)
    with BuildSketch(Plane(origin=(0, 0, 0), x_dir=(0, 0, -1), z_dir=(1, 0, 0)).offset(CUT_EXTRUDE33_START)):
        with Locations((0, 34.542331555)):
            Rectangle(SKETCH53_W, SKETCH53_H)
    extrude(amount=CUT_EXTRUDE33_DEPTH, mode=Mode.SUBTRACT)

    # Sketch54 → Cut-Extrude34 (cut, up to next)
    with BuildSketch(Plane.XY.offset(25), mode=Mode.PRIVATE) as cut_extrude34_sk1:
        Polygon((-22.48, 29.5), (12.527554032, 29.5), (18.879747693, 42.892461197), (-25.5, 42.892461197), align=None)
    cut_extrude34_tool1 = extrude(cut_extrude34_sk1.sketch, amount=-CUT_EXTRUDE34_REACH, mode=Mode.PRIVATE) & part.part
    add(cut_extrude34_tool1.solids().sort_by_distance((-4.110392, 36.459742, 25))[0], mode=Mode.SUBTRACT)


solid = part.part
